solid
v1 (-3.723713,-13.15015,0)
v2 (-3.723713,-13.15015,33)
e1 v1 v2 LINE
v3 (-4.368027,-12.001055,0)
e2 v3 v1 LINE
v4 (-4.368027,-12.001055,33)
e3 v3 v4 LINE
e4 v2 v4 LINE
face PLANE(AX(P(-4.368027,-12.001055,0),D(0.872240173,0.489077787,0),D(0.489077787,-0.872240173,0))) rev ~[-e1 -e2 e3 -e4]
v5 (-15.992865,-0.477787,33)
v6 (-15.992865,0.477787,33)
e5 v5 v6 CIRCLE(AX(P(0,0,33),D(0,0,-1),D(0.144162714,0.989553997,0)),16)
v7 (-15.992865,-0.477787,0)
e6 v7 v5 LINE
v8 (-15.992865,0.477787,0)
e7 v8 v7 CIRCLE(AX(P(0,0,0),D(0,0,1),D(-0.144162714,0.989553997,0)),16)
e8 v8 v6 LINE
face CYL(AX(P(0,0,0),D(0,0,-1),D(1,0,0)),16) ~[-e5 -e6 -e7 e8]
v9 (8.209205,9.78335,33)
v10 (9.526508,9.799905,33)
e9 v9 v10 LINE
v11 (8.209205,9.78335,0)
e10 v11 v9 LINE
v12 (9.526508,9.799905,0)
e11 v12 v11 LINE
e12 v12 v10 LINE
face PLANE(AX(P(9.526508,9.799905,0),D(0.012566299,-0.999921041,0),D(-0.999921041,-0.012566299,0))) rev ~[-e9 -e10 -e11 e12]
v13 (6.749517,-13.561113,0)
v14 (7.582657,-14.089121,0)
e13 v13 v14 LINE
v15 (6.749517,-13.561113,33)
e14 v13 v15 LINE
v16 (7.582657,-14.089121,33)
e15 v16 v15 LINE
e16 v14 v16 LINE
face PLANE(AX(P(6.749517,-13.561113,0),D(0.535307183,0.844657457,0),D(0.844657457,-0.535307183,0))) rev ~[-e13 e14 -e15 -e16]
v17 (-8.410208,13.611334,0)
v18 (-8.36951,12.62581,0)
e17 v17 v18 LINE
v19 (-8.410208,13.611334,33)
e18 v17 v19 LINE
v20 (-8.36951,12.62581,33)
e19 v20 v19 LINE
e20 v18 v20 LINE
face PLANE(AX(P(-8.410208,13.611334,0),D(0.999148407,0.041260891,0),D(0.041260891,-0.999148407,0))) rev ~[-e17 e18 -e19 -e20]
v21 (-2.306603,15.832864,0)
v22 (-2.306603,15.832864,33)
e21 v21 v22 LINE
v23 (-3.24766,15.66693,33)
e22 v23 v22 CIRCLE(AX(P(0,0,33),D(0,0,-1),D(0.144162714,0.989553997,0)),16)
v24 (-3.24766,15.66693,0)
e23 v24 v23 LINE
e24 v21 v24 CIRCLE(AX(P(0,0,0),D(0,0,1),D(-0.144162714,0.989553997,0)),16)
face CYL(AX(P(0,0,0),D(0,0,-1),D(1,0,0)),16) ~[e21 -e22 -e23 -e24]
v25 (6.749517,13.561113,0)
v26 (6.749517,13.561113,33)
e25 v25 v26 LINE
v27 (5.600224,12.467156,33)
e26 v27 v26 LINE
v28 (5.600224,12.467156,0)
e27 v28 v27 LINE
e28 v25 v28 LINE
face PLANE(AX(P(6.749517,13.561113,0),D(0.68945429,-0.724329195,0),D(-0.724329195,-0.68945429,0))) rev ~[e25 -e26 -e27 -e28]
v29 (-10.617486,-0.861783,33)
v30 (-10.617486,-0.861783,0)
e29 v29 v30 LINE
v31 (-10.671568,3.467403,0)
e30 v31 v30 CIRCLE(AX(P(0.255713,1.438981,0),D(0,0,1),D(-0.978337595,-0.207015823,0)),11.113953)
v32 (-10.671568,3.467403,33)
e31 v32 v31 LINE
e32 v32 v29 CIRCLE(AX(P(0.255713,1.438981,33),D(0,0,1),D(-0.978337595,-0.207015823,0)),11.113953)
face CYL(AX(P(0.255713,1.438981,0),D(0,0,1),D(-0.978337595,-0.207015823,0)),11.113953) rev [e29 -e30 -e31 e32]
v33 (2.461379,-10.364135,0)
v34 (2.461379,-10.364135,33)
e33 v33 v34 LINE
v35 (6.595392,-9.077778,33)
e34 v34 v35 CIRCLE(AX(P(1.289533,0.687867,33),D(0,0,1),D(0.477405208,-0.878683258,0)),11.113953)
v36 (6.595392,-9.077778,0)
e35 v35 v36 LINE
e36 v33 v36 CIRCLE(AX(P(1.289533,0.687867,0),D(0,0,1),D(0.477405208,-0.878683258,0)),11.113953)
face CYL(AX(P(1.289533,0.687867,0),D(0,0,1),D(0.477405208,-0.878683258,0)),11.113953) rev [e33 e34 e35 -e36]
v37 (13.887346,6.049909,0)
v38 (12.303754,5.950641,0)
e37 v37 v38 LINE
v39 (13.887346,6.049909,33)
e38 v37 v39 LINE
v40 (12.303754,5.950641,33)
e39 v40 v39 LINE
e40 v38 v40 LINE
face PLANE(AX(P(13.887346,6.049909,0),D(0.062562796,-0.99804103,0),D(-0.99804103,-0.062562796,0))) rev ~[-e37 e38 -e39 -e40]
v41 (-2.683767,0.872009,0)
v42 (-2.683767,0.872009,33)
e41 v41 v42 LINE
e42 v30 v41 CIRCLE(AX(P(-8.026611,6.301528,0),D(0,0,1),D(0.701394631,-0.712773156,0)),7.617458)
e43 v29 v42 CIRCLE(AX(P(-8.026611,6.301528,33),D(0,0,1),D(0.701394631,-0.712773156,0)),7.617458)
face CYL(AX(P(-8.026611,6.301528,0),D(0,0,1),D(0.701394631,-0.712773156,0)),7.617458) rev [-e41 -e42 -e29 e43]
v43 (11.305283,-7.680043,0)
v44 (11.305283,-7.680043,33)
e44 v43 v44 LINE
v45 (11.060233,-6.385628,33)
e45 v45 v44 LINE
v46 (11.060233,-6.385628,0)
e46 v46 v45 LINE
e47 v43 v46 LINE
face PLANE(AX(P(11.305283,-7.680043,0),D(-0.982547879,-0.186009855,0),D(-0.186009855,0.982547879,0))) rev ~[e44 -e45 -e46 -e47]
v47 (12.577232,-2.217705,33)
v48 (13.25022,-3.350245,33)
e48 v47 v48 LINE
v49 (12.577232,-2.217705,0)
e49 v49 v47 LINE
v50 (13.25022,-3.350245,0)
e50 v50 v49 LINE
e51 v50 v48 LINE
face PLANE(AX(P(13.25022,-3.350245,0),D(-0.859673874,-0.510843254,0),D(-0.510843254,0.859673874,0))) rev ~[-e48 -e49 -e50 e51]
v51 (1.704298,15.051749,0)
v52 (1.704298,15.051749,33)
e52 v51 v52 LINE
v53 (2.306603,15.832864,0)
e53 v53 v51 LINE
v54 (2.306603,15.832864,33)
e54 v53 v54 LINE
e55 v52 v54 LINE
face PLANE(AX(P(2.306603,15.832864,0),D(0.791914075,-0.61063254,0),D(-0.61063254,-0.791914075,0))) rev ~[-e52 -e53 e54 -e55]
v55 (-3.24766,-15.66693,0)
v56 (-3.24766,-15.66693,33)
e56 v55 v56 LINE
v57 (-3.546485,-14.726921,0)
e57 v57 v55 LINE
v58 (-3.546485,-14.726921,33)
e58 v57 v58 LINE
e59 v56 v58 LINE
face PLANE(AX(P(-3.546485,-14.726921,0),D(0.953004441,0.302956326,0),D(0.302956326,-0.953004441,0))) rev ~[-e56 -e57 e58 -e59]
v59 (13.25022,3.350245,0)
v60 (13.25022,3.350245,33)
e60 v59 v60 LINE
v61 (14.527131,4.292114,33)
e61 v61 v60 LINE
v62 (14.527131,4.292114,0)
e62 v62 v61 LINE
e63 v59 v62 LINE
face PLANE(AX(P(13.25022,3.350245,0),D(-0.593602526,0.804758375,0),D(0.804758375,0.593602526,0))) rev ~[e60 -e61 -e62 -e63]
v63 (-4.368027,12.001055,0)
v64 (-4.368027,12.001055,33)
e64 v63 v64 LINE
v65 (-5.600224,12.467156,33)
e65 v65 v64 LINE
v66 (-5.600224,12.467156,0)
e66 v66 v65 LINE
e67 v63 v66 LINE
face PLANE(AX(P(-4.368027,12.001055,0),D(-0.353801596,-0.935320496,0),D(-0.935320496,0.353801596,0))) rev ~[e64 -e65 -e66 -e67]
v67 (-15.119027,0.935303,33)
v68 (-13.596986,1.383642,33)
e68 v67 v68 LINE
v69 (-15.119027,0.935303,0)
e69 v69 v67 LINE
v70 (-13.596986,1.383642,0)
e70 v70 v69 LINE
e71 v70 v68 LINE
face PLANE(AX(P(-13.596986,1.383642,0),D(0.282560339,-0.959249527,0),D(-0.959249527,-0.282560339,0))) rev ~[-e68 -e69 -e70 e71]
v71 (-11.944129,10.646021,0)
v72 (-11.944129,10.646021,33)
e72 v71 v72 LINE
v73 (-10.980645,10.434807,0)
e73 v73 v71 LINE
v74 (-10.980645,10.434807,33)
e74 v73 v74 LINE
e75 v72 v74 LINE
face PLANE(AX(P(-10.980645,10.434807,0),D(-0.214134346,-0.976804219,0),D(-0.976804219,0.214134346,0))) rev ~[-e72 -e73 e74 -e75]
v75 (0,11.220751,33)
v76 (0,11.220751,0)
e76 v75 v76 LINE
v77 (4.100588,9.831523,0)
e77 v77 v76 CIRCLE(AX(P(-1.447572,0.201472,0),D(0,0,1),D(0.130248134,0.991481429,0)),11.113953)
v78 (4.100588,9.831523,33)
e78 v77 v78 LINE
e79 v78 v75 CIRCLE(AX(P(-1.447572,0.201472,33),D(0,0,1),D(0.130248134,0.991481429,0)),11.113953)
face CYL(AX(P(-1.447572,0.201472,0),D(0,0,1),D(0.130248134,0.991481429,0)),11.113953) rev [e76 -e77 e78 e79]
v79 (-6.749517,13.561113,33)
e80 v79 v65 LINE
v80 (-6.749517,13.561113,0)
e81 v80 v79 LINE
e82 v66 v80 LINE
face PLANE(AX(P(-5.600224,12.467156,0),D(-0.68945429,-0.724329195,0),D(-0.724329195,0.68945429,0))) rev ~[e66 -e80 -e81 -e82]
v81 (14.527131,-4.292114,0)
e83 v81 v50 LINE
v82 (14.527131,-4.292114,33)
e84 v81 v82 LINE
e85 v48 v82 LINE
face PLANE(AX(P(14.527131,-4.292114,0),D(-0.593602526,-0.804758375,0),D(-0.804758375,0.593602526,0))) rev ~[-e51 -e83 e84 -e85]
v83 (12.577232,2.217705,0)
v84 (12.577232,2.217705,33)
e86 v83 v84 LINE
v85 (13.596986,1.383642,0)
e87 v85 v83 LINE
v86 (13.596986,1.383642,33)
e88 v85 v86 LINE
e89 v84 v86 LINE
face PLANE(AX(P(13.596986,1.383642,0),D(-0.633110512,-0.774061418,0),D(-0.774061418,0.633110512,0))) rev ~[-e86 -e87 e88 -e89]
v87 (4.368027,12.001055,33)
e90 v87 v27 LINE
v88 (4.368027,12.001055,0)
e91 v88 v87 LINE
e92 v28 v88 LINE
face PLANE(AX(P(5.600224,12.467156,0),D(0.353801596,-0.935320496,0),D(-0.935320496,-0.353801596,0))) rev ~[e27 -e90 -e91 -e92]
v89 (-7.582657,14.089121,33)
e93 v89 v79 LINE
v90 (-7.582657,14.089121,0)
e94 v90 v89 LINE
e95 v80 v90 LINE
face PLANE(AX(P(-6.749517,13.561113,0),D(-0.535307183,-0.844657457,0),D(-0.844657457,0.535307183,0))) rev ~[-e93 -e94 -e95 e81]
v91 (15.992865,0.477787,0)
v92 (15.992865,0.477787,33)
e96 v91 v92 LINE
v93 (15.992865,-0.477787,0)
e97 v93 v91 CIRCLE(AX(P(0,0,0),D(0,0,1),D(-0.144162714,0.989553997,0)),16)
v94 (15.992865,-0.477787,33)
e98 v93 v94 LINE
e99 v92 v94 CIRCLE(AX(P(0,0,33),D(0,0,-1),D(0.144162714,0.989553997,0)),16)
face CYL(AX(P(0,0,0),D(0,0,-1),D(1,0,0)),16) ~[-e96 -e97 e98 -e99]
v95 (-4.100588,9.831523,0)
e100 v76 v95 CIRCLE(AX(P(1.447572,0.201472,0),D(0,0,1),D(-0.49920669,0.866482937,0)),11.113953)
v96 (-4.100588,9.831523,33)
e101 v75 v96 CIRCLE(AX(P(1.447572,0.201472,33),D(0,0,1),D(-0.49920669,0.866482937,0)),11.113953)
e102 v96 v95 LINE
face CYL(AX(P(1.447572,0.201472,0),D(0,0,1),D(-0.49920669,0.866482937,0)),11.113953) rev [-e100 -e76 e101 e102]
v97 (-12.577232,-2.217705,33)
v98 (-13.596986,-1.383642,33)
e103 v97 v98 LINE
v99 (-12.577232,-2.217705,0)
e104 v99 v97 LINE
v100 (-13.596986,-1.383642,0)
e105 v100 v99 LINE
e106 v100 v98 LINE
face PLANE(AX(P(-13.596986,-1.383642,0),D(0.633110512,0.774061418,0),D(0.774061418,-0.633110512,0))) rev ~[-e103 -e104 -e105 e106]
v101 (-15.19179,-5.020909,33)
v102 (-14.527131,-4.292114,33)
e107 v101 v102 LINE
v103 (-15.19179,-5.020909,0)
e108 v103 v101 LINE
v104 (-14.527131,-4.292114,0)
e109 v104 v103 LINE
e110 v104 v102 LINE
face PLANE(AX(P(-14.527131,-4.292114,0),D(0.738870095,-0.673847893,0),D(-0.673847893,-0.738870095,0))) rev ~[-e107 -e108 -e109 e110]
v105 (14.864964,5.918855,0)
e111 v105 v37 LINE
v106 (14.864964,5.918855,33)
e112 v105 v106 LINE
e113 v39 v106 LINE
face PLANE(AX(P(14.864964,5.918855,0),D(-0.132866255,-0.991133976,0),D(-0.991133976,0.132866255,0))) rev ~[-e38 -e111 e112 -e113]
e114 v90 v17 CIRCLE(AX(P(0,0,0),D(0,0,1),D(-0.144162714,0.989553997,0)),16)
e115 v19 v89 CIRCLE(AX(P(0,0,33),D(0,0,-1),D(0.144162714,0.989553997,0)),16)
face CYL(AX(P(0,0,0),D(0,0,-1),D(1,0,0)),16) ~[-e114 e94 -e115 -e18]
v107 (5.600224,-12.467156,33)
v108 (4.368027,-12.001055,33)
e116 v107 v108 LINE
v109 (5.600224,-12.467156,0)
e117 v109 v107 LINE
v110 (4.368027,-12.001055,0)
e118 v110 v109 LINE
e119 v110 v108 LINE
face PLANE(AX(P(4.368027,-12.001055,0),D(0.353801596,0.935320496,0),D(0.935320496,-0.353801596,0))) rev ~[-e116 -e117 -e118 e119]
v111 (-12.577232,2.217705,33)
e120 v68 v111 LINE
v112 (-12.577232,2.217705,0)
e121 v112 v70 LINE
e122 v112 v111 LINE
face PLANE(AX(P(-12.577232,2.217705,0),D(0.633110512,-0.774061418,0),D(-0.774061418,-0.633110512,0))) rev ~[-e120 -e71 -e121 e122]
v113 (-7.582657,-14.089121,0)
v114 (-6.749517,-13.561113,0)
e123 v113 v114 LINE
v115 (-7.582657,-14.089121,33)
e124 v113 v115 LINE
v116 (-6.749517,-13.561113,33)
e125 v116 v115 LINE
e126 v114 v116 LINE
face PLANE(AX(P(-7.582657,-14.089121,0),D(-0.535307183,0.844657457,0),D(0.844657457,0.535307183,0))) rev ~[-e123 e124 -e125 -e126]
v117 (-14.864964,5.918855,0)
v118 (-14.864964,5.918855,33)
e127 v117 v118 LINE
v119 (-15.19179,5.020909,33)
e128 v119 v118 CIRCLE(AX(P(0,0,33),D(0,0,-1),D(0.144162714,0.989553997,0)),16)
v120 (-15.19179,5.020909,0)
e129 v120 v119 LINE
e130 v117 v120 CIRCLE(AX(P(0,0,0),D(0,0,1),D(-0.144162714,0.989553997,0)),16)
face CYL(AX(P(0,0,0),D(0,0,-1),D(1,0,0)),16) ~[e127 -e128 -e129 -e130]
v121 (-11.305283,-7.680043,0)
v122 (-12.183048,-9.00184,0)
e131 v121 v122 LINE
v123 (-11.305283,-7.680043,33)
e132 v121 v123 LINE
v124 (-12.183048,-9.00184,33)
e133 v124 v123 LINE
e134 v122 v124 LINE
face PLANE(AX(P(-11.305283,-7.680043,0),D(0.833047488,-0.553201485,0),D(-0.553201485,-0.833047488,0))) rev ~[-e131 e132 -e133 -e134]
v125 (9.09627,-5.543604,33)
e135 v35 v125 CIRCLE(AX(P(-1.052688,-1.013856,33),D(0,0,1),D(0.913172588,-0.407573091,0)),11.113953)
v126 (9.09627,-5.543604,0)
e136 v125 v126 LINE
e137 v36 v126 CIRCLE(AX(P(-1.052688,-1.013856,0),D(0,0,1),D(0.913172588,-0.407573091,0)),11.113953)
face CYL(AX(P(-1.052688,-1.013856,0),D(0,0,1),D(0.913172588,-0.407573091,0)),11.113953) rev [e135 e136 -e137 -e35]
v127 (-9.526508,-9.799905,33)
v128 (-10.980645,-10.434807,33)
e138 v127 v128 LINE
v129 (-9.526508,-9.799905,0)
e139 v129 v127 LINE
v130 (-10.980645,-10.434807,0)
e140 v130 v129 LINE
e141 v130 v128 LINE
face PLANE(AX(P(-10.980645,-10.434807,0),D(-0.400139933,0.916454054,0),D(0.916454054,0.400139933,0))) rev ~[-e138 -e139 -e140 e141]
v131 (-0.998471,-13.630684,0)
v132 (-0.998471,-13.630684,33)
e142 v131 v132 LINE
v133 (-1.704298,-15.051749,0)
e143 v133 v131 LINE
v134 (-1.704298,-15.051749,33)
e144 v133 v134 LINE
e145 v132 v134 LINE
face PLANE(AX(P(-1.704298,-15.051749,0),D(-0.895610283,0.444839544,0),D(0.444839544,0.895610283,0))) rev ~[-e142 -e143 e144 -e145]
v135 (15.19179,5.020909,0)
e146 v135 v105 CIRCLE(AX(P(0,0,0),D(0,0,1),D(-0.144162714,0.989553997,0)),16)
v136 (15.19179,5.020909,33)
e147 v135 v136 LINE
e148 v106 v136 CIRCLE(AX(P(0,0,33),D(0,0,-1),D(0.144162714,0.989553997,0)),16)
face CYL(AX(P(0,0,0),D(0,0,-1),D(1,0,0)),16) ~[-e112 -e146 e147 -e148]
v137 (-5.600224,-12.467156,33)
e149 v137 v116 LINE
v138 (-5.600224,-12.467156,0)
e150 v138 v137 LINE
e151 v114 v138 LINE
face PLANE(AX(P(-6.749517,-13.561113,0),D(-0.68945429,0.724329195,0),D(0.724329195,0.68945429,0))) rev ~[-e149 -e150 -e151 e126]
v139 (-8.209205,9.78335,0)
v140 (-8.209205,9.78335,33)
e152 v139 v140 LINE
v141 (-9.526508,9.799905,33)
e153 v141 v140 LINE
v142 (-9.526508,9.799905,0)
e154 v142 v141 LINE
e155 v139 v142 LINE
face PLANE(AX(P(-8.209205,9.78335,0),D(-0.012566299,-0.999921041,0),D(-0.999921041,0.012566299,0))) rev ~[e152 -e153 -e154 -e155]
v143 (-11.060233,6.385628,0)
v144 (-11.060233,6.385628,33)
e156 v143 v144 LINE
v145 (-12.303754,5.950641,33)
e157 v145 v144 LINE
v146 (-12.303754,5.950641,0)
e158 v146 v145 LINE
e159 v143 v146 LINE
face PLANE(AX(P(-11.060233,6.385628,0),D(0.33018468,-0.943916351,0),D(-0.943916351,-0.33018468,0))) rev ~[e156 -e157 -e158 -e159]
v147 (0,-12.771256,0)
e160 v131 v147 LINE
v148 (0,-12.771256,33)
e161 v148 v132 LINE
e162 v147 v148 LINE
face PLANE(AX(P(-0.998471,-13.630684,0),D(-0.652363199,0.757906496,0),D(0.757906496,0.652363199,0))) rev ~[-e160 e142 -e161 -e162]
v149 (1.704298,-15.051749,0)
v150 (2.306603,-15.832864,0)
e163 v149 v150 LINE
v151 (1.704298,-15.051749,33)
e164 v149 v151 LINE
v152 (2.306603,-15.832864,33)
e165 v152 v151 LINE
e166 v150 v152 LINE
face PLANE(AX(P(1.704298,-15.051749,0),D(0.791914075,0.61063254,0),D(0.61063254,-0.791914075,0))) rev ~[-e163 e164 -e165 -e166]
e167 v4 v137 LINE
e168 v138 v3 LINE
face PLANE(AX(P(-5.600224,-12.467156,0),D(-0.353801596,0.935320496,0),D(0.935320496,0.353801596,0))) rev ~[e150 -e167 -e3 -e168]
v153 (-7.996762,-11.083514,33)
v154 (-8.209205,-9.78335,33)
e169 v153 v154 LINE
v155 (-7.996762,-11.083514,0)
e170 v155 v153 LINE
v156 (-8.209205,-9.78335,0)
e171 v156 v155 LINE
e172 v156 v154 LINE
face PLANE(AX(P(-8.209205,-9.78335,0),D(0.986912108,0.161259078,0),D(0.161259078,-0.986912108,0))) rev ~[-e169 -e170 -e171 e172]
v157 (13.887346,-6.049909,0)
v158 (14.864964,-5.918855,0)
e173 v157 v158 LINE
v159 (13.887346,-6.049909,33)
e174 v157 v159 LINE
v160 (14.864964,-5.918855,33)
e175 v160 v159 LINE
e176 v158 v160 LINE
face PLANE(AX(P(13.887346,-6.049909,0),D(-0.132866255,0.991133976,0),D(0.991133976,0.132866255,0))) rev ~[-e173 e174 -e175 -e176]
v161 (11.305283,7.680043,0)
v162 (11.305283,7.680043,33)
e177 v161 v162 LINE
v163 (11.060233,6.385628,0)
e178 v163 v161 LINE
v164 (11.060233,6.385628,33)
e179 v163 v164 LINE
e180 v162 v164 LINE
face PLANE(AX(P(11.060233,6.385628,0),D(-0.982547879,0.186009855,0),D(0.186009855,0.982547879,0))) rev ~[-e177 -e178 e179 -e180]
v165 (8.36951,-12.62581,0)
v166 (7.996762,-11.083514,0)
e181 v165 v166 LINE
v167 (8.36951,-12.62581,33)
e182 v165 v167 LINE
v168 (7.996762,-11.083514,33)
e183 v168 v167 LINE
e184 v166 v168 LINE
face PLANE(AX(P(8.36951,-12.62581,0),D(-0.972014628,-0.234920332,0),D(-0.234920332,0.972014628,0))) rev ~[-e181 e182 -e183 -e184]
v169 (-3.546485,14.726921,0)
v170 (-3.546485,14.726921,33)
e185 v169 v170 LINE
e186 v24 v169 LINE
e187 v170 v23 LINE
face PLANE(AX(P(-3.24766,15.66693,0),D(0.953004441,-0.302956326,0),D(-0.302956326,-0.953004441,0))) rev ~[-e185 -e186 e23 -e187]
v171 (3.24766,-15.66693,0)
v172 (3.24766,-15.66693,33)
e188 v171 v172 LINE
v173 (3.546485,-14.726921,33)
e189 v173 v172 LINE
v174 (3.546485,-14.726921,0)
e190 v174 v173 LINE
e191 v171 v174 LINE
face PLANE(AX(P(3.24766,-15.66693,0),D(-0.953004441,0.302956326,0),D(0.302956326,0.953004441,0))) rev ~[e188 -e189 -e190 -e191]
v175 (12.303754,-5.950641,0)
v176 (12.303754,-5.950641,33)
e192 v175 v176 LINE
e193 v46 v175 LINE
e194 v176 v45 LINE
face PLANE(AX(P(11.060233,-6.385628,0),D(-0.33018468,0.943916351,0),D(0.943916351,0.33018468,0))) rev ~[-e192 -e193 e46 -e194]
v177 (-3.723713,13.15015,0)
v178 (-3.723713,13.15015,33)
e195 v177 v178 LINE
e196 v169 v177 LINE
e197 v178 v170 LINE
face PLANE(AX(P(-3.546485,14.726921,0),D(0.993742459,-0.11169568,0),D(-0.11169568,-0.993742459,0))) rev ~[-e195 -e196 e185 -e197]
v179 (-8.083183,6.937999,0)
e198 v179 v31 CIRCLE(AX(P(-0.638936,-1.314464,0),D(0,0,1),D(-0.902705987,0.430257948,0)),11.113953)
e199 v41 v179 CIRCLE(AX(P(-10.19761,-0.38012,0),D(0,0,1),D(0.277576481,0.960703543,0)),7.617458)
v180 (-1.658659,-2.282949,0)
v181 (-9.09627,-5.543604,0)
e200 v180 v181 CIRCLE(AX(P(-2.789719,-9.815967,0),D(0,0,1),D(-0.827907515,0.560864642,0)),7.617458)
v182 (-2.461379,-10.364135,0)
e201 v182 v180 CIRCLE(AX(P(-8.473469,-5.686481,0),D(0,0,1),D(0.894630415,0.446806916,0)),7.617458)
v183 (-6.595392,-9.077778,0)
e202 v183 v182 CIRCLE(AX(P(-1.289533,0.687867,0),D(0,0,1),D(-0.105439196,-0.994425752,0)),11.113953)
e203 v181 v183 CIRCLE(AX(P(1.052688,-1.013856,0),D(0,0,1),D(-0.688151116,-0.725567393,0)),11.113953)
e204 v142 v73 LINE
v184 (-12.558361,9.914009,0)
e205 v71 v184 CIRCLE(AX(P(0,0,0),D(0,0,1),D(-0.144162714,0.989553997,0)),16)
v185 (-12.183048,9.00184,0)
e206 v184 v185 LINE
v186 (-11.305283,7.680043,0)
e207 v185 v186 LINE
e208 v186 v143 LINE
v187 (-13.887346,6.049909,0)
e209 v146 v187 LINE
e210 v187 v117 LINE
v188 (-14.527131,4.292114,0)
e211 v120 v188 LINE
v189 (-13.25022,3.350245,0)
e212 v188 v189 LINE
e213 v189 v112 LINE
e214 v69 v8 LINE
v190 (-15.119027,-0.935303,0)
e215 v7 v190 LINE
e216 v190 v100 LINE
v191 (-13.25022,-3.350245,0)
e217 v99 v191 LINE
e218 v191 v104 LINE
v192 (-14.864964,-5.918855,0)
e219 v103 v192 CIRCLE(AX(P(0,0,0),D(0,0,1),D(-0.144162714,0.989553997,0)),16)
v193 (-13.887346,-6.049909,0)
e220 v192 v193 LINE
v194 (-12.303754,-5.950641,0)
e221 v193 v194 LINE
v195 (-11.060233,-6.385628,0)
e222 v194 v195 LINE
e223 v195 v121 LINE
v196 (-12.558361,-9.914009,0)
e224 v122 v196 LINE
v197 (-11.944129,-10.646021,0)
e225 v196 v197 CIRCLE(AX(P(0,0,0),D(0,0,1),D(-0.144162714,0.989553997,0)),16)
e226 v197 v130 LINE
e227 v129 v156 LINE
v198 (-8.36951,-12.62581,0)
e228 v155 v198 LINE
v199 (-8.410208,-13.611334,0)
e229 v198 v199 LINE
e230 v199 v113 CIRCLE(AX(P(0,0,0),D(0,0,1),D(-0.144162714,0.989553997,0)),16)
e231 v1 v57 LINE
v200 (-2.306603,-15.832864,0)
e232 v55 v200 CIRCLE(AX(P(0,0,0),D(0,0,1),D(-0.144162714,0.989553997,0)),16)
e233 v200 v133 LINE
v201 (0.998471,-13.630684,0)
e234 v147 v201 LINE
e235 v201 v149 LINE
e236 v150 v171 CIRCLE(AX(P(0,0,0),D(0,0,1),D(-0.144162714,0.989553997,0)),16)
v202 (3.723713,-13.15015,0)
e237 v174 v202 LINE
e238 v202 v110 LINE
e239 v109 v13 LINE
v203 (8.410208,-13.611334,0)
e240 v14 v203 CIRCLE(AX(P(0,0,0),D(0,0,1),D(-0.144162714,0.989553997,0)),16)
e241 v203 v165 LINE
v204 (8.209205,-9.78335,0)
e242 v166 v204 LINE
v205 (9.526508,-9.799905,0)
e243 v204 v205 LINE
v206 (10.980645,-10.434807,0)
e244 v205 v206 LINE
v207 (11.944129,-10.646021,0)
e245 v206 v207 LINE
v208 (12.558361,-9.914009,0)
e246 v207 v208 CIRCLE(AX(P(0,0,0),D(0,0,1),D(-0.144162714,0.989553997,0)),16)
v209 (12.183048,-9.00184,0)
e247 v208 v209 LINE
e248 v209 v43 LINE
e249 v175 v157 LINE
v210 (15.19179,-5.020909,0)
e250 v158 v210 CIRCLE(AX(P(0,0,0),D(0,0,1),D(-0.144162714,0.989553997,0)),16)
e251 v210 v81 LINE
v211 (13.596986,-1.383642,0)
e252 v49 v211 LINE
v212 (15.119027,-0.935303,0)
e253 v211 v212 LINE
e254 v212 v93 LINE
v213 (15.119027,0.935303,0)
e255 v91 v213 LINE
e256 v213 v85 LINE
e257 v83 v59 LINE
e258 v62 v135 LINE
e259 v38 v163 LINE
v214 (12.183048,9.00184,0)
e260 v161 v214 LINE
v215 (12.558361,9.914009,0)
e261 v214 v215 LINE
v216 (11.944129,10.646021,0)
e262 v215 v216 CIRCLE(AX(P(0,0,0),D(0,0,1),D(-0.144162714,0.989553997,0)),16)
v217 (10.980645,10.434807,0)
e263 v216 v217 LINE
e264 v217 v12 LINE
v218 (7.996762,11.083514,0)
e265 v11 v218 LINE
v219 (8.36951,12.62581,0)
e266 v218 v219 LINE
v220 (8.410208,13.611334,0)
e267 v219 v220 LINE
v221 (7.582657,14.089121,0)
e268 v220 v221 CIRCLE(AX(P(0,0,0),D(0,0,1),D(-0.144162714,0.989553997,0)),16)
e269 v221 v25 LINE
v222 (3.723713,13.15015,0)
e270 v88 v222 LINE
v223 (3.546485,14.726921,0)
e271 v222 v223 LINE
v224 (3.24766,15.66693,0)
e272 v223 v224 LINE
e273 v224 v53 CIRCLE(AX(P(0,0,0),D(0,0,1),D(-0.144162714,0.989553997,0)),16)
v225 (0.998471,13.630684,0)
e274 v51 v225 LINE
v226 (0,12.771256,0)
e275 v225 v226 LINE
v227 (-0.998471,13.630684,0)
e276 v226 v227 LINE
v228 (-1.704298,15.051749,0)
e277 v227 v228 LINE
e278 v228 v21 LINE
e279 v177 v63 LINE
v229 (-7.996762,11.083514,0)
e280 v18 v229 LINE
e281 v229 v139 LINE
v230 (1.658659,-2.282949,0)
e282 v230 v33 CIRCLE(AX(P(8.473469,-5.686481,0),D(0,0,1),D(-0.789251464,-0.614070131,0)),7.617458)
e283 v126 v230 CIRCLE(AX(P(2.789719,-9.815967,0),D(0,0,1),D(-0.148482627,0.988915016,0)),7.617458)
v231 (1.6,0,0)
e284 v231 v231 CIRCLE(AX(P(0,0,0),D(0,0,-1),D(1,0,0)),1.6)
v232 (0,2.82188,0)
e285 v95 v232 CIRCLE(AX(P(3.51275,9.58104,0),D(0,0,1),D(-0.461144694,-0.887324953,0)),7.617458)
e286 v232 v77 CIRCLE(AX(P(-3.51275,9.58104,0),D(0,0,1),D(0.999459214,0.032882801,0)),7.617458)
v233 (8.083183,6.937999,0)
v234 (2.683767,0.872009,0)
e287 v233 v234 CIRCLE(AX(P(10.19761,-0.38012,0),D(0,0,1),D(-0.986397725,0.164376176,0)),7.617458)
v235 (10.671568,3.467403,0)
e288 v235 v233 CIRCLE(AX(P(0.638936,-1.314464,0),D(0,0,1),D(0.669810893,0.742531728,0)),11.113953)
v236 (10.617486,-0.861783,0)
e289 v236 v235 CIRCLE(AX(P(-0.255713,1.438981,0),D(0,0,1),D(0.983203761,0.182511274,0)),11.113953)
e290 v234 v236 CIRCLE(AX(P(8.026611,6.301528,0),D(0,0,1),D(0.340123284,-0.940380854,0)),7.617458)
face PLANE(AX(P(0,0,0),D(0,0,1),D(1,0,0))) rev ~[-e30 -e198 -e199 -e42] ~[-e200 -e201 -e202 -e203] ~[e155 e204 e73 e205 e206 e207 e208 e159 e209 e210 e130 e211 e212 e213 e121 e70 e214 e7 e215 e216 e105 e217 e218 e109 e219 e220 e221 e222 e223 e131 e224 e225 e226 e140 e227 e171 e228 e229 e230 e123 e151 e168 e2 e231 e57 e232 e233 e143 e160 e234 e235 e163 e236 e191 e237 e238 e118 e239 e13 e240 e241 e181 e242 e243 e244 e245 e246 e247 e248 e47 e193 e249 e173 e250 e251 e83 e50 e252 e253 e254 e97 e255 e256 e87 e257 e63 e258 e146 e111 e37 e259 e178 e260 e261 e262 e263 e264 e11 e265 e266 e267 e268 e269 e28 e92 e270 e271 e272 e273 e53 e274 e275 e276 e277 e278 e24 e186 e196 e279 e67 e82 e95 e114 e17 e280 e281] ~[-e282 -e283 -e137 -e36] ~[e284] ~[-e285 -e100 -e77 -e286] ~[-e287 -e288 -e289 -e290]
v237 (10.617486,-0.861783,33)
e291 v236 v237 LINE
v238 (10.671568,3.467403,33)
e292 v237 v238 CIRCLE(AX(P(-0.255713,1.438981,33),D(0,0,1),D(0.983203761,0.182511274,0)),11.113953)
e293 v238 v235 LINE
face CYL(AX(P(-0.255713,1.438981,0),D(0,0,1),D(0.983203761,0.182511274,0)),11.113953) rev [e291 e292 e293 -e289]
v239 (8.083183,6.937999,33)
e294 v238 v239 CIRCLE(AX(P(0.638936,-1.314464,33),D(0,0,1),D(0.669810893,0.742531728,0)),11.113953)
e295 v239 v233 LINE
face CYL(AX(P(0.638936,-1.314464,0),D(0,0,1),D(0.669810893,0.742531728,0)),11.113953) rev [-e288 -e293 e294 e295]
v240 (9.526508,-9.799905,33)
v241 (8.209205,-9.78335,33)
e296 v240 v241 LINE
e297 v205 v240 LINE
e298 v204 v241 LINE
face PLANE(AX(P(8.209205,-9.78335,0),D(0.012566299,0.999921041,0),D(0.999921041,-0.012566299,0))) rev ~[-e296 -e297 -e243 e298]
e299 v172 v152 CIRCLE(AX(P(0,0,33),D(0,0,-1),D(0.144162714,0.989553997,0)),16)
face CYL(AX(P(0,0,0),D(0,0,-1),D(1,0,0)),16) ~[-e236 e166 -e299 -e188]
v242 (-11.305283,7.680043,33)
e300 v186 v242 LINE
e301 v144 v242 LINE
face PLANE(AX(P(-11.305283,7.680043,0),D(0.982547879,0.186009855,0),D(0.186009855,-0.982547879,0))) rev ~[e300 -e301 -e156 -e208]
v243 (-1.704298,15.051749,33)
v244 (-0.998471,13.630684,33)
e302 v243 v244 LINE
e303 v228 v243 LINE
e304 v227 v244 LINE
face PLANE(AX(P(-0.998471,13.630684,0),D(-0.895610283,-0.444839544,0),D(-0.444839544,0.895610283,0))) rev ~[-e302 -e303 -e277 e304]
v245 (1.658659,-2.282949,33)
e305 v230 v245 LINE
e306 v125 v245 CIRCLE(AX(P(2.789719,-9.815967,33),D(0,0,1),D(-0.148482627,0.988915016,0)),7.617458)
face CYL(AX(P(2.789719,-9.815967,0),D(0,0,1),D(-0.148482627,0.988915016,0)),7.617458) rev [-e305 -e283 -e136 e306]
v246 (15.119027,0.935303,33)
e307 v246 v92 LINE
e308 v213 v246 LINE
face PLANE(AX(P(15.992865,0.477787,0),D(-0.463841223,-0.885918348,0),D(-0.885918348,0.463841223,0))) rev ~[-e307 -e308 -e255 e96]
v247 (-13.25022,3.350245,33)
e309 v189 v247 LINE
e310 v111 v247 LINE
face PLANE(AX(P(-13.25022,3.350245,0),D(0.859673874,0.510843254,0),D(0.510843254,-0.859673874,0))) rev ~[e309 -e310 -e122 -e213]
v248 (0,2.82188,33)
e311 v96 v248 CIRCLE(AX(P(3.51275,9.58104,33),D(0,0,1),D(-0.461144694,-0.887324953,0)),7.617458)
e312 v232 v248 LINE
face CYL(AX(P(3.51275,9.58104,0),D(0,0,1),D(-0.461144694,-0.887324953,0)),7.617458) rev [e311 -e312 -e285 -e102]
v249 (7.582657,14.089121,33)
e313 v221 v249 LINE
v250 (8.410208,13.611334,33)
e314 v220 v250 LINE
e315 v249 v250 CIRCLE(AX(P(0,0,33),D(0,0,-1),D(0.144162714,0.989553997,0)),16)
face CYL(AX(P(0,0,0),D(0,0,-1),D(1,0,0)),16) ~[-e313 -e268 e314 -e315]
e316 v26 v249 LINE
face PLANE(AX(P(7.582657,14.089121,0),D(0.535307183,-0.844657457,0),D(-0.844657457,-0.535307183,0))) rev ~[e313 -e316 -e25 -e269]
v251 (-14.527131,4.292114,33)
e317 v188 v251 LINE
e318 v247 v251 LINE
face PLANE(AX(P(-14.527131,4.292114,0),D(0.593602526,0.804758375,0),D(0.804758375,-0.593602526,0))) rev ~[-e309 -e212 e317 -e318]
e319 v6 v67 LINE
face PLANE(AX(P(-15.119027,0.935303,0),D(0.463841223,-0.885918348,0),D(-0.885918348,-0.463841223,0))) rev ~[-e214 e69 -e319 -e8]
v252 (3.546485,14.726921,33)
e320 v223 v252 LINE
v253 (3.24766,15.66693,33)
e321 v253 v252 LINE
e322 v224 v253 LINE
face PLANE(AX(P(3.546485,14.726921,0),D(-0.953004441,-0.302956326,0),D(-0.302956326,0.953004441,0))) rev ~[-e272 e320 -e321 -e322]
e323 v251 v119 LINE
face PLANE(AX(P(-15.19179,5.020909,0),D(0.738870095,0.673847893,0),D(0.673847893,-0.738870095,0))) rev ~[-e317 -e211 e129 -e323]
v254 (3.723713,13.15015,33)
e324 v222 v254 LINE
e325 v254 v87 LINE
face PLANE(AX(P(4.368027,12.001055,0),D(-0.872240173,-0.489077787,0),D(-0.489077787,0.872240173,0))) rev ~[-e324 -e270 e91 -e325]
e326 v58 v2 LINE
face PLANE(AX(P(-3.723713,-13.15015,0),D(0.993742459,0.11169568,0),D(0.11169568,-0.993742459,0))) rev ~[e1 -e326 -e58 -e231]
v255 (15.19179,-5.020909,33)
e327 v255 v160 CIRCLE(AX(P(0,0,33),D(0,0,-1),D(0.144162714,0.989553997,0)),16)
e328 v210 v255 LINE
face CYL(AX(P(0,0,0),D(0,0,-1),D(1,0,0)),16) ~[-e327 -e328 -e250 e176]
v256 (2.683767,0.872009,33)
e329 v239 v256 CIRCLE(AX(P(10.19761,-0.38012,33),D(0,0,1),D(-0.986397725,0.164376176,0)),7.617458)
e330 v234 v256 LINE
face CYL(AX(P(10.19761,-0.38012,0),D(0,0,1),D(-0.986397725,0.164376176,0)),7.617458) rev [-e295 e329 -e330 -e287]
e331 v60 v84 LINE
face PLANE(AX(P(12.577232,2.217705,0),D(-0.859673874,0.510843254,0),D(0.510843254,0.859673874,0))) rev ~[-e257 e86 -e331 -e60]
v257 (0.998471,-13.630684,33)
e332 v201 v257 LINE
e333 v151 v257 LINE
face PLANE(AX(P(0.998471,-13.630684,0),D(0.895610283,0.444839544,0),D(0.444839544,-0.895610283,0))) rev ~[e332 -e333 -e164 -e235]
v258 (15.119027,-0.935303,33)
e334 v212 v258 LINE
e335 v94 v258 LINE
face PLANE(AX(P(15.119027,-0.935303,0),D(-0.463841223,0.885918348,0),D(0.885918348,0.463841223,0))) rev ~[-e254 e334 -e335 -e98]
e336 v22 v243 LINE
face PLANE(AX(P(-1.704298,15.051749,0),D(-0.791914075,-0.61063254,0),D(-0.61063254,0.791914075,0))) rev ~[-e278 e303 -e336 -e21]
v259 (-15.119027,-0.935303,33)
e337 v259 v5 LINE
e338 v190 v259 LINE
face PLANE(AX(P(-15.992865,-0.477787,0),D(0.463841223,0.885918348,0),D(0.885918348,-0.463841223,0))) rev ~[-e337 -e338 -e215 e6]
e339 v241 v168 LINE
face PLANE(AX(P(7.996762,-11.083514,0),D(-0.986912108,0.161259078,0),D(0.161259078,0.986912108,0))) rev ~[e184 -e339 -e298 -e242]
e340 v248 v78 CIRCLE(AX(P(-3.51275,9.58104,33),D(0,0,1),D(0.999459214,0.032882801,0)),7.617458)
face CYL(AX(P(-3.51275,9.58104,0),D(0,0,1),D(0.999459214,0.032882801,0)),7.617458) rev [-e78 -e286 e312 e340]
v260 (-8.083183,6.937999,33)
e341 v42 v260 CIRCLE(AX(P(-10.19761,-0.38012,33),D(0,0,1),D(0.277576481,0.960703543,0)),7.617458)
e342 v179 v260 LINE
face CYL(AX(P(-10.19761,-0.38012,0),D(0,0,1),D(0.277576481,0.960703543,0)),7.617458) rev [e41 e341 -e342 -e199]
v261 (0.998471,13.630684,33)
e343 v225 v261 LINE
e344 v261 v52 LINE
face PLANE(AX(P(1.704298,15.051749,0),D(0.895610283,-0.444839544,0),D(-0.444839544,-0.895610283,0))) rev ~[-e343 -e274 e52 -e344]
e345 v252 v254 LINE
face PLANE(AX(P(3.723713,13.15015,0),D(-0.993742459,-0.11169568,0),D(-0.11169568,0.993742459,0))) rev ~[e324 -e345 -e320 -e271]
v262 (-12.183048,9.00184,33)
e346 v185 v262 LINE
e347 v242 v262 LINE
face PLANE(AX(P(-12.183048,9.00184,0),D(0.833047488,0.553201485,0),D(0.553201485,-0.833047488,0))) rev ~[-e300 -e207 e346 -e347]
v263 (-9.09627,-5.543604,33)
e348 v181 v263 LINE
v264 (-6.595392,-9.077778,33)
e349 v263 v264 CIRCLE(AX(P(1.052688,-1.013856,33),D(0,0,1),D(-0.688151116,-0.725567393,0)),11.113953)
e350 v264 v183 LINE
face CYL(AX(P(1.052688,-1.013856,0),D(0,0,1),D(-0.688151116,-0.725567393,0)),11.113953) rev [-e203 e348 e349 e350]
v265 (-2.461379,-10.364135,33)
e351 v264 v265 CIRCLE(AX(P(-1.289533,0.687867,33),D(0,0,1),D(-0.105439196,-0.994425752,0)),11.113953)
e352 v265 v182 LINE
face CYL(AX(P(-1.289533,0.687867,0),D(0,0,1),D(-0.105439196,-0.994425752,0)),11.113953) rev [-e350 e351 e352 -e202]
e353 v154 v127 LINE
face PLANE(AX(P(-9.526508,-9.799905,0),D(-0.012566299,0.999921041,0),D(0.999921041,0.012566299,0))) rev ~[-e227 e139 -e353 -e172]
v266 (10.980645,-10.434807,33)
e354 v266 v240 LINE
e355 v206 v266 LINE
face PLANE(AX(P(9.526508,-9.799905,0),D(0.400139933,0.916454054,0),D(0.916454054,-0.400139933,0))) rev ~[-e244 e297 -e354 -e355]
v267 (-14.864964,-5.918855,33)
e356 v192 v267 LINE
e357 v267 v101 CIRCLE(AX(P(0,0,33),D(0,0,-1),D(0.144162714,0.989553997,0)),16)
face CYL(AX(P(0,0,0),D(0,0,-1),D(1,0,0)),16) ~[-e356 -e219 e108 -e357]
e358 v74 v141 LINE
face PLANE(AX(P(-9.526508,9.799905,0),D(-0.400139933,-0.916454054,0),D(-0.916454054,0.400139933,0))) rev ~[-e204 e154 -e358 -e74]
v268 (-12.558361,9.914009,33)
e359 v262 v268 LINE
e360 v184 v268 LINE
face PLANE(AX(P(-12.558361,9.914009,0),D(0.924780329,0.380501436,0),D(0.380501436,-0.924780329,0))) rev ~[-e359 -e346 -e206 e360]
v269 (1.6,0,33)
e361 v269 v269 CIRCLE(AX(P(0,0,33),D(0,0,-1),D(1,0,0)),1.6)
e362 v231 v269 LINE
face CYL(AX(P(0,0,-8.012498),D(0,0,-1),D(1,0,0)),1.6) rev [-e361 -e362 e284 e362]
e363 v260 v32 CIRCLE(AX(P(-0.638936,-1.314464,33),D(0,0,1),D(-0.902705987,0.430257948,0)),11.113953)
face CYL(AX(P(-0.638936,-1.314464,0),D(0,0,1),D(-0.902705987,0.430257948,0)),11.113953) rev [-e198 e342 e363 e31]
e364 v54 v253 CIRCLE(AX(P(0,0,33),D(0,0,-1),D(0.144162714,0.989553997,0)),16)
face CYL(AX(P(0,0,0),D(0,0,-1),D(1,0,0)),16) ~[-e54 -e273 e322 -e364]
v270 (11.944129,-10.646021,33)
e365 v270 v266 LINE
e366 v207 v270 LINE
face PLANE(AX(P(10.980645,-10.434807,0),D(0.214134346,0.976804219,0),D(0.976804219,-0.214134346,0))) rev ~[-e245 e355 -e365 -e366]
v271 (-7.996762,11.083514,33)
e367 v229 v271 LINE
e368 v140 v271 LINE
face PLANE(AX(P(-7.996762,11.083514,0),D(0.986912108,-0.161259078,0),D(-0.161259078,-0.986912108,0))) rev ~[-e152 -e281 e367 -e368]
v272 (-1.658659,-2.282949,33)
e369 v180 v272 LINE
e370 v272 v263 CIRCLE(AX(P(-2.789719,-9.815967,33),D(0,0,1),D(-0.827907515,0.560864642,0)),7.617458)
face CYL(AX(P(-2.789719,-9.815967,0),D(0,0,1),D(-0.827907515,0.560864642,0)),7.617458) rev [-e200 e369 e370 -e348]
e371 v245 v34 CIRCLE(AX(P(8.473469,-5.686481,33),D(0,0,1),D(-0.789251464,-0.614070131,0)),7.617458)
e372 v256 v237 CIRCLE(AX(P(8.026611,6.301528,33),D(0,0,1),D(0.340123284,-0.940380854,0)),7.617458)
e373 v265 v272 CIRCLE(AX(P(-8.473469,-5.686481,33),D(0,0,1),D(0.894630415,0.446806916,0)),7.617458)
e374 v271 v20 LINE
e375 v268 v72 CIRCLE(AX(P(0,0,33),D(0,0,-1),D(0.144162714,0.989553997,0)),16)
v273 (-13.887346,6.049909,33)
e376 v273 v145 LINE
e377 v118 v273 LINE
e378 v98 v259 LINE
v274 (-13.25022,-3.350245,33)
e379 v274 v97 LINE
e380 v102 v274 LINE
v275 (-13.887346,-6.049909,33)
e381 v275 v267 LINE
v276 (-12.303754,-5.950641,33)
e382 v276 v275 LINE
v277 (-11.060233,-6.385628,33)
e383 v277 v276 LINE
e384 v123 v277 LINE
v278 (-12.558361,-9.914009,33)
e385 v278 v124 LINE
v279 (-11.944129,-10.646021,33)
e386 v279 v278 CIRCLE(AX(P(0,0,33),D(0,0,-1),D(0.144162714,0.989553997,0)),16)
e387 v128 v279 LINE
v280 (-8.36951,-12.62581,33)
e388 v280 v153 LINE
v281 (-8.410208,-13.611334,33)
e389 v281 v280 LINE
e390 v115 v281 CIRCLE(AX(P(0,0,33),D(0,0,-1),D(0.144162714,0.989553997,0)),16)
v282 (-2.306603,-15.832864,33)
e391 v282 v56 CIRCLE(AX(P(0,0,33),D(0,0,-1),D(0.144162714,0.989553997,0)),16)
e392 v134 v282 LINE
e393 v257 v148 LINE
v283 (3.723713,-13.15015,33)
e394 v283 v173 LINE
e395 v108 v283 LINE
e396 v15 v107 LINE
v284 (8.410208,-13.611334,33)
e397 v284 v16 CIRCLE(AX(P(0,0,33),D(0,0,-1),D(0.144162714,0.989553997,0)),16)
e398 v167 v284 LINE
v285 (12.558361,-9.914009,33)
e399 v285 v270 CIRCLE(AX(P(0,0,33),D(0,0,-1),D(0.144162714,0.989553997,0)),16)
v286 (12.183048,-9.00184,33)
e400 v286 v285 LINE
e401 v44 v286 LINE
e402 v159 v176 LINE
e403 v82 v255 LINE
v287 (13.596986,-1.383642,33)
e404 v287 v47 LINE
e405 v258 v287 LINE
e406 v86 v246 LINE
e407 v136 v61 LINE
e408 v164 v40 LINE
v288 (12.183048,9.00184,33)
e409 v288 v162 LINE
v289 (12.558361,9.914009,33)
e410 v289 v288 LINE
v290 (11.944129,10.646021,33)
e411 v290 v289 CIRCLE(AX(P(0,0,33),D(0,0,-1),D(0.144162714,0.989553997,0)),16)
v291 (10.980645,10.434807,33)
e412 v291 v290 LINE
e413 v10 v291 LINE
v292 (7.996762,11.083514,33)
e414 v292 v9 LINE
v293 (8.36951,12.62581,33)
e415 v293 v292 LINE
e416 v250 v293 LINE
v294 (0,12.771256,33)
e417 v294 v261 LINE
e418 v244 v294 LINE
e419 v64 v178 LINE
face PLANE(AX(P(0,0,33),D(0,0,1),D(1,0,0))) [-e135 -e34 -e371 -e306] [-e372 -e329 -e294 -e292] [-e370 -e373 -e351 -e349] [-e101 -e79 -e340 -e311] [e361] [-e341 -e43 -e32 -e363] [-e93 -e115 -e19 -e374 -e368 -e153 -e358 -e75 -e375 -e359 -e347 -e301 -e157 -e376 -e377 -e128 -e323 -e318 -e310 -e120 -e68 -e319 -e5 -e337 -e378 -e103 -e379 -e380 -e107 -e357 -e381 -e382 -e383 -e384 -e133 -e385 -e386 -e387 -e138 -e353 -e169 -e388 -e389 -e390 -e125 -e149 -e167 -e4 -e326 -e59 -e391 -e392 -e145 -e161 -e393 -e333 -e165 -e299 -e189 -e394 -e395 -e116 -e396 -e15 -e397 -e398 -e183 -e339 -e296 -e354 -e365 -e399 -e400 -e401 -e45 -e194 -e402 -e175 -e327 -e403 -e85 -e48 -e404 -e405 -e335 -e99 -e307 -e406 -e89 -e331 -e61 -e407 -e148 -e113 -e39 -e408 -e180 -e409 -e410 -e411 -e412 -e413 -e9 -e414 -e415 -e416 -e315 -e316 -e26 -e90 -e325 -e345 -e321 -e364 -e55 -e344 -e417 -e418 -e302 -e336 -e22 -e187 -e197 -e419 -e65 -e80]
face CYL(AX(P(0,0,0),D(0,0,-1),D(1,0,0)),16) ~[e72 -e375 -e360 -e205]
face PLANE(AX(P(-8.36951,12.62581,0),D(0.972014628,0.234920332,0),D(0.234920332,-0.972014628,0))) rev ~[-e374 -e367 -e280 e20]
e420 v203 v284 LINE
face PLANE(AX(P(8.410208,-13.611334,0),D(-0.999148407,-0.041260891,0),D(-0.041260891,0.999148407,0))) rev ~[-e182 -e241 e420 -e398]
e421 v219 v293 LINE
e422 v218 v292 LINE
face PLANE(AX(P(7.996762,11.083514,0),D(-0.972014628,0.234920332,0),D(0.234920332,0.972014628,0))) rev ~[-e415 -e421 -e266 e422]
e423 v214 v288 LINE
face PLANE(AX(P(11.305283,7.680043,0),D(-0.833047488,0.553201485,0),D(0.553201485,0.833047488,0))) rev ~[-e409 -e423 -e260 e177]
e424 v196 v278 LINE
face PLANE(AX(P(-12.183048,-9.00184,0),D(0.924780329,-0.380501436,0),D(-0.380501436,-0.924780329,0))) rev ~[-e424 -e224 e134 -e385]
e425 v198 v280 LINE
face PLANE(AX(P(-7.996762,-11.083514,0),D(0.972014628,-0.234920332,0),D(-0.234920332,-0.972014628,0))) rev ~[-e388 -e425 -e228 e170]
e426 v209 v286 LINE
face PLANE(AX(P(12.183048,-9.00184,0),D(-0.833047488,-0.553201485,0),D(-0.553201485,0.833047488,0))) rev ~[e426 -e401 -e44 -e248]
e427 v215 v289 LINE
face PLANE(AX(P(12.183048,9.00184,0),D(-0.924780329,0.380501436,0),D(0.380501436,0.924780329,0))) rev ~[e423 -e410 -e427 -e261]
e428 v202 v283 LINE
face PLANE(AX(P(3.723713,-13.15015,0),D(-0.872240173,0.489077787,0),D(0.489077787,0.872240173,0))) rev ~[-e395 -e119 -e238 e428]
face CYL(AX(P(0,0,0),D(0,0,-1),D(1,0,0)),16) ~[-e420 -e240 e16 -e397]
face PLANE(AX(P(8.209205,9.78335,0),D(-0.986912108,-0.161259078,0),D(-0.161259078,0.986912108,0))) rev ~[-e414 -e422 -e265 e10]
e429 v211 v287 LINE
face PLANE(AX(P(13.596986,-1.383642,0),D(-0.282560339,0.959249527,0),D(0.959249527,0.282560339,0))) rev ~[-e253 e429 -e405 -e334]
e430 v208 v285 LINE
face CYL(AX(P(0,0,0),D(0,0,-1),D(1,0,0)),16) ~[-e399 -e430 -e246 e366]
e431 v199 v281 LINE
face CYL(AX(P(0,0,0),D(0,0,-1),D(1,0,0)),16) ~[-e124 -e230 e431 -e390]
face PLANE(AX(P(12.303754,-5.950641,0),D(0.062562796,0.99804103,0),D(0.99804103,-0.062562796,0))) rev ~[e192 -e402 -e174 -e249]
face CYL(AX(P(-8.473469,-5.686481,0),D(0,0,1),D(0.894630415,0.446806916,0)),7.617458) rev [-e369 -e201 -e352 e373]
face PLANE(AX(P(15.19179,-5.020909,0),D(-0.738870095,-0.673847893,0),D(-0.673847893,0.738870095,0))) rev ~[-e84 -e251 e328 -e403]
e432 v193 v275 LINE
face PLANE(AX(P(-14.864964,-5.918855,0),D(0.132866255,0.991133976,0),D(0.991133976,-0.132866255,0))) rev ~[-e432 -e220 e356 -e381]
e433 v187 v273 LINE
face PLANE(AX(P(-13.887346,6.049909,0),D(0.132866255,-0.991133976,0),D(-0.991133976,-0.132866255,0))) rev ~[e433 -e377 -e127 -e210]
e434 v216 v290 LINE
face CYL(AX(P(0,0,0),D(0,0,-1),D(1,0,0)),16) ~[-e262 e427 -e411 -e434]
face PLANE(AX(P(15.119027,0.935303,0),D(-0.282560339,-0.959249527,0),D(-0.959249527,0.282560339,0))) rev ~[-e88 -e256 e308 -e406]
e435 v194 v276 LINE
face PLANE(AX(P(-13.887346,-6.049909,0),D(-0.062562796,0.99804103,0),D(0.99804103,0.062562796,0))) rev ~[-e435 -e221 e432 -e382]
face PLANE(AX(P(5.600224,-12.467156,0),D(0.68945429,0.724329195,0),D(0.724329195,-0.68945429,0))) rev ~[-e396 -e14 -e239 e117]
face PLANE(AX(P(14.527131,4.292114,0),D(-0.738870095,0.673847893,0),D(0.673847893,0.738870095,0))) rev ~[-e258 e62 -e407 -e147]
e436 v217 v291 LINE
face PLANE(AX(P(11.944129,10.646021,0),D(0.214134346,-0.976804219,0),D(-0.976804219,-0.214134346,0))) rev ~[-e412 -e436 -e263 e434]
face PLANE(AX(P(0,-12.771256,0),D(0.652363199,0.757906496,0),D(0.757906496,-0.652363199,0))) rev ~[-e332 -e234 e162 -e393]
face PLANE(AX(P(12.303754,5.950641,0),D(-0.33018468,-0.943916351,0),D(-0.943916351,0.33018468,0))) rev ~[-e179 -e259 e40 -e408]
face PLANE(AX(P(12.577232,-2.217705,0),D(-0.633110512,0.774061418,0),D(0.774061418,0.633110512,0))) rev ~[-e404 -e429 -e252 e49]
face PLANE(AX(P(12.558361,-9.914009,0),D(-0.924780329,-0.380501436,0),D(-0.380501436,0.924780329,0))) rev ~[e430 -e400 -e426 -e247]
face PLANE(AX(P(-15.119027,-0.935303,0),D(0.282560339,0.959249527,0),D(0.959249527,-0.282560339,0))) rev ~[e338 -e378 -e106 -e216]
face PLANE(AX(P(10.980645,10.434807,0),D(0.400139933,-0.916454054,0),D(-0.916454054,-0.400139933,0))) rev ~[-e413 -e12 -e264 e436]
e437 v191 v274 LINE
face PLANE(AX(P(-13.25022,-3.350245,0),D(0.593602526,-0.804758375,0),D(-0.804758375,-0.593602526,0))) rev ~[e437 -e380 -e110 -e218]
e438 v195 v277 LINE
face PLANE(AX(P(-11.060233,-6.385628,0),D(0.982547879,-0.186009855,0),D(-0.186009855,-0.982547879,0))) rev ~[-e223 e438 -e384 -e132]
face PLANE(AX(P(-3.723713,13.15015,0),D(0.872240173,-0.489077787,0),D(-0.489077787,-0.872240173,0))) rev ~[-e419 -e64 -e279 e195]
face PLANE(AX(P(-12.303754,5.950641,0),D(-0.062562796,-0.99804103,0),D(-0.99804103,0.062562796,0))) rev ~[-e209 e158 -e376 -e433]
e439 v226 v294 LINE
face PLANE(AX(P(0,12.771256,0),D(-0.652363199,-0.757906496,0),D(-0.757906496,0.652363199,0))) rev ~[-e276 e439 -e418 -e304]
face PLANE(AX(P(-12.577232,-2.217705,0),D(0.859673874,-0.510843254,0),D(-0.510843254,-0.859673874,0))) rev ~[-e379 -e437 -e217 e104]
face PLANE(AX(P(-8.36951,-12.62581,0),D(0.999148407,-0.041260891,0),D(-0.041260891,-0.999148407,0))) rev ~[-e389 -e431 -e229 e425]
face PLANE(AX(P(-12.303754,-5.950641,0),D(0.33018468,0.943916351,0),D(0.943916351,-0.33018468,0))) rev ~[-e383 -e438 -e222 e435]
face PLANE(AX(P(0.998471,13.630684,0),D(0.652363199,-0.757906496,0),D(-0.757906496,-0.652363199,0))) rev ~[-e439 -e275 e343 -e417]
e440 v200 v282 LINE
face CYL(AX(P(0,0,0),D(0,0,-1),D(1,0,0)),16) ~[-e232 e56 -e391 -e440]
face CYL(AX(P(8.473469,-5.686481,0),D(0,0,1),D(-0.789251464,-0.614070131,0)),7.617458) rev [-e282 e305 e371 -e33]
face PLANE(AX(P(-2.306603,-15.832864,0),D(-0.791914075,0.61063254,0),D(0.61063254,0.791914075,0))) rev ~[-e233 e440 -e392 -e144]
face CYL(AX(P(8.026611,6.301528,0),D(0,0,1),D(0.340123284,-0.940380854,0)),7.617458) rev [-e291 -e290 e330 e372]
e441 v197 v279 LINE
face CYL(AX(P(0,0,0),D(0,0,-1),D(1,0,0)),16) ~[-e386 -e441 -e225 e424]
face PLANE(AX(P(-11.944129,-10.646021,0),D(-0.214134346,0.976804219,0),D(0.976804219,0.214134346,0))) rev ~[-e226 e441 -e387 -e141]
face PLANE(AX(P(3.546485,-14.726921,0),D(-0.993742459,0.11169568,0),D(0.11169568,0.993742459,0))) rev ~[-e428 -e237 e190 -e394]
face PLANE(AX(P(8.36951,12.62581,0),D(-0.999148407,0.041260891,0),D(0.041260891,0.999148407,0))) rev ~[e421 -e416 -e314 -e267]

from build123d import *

# Parameters (mm, degrees)
SKETCH1_R               = 16
BOSS_EXTRUDE1_DEPTH     = 33
CUT_EXTRUDE1_DEPTH      = 41.012498047
CUT_EXTRUDE2_DEPTH      = 41.012498047
CUT_EXTRUDE2_DEPTH_BACK = 41.012498047
SKETCH4_R               = 1.6
CIRPATTERN1_COUNT       = 18
CUT_EXTRUDE4_DEPTH      = 40.945958252
CIRPATTERN2_COUNT       = 5


with BuildPart() as part:
    # Sketch1 → Boss-Extrude1 (new body)
    with BuildSketch(Plane.XY):
        Circle(SKETCH1_R)
    extrude(amount=BOSS_EXTRUDE1_DEPTH)

    # Sketch2 → Cut-Extrude1 (cut, through all)
    with BuildSketch(Plane.XY):
        Polygon((0, 12.771256455), (-0.998470792, 13.630683843), (-1.704297747, 15.05174878), (-2.306603416, 15.832863944), (-1.704297747, 16.616063463), (0, 17.330302982), (1.704297747, 16.616063463), (2.306603416, 15.832863944), (1.704297747, 15.05174878), (0.998470792, 13.630683843), align=None)
    cut_extrude1 = extrude(amount=CUT_EXTRUDE1_DEPTH, mode=Mode.SUBTRACT)

    # Sketch4 → Cut-Extrude2 (cut, two sides: drawn at the far end of the back side and taken through both)
    with BuildSketch(Plane.XY.offset(33).offset(-CUT_EXTRUDE2_DEPTH_BACK)):
        Circle(SKETCH4_R)
    extrude(amount=CUT_EXTRUDE2_DEPTH + CUT_EXTRUDE2_DEPTH_BACK, mode=Mode.SUBTRACT)

    # CirPattern1: Cut-Extrude1 ×18 about axis
    cirpattern1_axis = Axis((0, 0, 0), (0, 0, 1))
    for i in range(1, CIRPATTERN1_COUNT):
        add(cut_extrude1.rotate(cirpattern1_axis, i * 360 / CIRPATTERN1_COUNT), mode=Mode.SUBTRACT)

    # Sketch5 → Cut-Extrude4 (cut, symmetric)
    with BuildSketch(Plane.XY):
        with BuildLine():
            ThreePointArc((0, 2.821879594), (-3.06229646, 5.734687868), (-4.100588226, 9.831523459))
            ThreePointArc((-4.100588226, 9.831523459), (-2.118596194, 10.7277447), (0, 11.220750878))
            ThreePointArc((0, 11.220750878), (2.118596194, 10.7277447), (4.100588226, 9.831523459))
            ThreePointArc((4.100588226, 9.831523459), (3.06229646, 5.734687868), (0, 2.821879594))
        make_face()
    cut_extrude4 = extrude(amount=CUT_EXTRUDE4_DEPTH, both=True, mode=Mode.SUBTRACT)

    # CirPattern2: Cut-Extrude4 ×5 about axis
    cirpattern2_axis = Axis((0, 0, 0), (0, 0, 1))
    for i in range(1, CIRPATTERN2_COUNT):
        add(cut_extrude4.rotate(cirpattern2_axis, i * 360 / CIRPATTERN2_COUNT), mode=Mode.SUBTRACT)


solid = part.part
